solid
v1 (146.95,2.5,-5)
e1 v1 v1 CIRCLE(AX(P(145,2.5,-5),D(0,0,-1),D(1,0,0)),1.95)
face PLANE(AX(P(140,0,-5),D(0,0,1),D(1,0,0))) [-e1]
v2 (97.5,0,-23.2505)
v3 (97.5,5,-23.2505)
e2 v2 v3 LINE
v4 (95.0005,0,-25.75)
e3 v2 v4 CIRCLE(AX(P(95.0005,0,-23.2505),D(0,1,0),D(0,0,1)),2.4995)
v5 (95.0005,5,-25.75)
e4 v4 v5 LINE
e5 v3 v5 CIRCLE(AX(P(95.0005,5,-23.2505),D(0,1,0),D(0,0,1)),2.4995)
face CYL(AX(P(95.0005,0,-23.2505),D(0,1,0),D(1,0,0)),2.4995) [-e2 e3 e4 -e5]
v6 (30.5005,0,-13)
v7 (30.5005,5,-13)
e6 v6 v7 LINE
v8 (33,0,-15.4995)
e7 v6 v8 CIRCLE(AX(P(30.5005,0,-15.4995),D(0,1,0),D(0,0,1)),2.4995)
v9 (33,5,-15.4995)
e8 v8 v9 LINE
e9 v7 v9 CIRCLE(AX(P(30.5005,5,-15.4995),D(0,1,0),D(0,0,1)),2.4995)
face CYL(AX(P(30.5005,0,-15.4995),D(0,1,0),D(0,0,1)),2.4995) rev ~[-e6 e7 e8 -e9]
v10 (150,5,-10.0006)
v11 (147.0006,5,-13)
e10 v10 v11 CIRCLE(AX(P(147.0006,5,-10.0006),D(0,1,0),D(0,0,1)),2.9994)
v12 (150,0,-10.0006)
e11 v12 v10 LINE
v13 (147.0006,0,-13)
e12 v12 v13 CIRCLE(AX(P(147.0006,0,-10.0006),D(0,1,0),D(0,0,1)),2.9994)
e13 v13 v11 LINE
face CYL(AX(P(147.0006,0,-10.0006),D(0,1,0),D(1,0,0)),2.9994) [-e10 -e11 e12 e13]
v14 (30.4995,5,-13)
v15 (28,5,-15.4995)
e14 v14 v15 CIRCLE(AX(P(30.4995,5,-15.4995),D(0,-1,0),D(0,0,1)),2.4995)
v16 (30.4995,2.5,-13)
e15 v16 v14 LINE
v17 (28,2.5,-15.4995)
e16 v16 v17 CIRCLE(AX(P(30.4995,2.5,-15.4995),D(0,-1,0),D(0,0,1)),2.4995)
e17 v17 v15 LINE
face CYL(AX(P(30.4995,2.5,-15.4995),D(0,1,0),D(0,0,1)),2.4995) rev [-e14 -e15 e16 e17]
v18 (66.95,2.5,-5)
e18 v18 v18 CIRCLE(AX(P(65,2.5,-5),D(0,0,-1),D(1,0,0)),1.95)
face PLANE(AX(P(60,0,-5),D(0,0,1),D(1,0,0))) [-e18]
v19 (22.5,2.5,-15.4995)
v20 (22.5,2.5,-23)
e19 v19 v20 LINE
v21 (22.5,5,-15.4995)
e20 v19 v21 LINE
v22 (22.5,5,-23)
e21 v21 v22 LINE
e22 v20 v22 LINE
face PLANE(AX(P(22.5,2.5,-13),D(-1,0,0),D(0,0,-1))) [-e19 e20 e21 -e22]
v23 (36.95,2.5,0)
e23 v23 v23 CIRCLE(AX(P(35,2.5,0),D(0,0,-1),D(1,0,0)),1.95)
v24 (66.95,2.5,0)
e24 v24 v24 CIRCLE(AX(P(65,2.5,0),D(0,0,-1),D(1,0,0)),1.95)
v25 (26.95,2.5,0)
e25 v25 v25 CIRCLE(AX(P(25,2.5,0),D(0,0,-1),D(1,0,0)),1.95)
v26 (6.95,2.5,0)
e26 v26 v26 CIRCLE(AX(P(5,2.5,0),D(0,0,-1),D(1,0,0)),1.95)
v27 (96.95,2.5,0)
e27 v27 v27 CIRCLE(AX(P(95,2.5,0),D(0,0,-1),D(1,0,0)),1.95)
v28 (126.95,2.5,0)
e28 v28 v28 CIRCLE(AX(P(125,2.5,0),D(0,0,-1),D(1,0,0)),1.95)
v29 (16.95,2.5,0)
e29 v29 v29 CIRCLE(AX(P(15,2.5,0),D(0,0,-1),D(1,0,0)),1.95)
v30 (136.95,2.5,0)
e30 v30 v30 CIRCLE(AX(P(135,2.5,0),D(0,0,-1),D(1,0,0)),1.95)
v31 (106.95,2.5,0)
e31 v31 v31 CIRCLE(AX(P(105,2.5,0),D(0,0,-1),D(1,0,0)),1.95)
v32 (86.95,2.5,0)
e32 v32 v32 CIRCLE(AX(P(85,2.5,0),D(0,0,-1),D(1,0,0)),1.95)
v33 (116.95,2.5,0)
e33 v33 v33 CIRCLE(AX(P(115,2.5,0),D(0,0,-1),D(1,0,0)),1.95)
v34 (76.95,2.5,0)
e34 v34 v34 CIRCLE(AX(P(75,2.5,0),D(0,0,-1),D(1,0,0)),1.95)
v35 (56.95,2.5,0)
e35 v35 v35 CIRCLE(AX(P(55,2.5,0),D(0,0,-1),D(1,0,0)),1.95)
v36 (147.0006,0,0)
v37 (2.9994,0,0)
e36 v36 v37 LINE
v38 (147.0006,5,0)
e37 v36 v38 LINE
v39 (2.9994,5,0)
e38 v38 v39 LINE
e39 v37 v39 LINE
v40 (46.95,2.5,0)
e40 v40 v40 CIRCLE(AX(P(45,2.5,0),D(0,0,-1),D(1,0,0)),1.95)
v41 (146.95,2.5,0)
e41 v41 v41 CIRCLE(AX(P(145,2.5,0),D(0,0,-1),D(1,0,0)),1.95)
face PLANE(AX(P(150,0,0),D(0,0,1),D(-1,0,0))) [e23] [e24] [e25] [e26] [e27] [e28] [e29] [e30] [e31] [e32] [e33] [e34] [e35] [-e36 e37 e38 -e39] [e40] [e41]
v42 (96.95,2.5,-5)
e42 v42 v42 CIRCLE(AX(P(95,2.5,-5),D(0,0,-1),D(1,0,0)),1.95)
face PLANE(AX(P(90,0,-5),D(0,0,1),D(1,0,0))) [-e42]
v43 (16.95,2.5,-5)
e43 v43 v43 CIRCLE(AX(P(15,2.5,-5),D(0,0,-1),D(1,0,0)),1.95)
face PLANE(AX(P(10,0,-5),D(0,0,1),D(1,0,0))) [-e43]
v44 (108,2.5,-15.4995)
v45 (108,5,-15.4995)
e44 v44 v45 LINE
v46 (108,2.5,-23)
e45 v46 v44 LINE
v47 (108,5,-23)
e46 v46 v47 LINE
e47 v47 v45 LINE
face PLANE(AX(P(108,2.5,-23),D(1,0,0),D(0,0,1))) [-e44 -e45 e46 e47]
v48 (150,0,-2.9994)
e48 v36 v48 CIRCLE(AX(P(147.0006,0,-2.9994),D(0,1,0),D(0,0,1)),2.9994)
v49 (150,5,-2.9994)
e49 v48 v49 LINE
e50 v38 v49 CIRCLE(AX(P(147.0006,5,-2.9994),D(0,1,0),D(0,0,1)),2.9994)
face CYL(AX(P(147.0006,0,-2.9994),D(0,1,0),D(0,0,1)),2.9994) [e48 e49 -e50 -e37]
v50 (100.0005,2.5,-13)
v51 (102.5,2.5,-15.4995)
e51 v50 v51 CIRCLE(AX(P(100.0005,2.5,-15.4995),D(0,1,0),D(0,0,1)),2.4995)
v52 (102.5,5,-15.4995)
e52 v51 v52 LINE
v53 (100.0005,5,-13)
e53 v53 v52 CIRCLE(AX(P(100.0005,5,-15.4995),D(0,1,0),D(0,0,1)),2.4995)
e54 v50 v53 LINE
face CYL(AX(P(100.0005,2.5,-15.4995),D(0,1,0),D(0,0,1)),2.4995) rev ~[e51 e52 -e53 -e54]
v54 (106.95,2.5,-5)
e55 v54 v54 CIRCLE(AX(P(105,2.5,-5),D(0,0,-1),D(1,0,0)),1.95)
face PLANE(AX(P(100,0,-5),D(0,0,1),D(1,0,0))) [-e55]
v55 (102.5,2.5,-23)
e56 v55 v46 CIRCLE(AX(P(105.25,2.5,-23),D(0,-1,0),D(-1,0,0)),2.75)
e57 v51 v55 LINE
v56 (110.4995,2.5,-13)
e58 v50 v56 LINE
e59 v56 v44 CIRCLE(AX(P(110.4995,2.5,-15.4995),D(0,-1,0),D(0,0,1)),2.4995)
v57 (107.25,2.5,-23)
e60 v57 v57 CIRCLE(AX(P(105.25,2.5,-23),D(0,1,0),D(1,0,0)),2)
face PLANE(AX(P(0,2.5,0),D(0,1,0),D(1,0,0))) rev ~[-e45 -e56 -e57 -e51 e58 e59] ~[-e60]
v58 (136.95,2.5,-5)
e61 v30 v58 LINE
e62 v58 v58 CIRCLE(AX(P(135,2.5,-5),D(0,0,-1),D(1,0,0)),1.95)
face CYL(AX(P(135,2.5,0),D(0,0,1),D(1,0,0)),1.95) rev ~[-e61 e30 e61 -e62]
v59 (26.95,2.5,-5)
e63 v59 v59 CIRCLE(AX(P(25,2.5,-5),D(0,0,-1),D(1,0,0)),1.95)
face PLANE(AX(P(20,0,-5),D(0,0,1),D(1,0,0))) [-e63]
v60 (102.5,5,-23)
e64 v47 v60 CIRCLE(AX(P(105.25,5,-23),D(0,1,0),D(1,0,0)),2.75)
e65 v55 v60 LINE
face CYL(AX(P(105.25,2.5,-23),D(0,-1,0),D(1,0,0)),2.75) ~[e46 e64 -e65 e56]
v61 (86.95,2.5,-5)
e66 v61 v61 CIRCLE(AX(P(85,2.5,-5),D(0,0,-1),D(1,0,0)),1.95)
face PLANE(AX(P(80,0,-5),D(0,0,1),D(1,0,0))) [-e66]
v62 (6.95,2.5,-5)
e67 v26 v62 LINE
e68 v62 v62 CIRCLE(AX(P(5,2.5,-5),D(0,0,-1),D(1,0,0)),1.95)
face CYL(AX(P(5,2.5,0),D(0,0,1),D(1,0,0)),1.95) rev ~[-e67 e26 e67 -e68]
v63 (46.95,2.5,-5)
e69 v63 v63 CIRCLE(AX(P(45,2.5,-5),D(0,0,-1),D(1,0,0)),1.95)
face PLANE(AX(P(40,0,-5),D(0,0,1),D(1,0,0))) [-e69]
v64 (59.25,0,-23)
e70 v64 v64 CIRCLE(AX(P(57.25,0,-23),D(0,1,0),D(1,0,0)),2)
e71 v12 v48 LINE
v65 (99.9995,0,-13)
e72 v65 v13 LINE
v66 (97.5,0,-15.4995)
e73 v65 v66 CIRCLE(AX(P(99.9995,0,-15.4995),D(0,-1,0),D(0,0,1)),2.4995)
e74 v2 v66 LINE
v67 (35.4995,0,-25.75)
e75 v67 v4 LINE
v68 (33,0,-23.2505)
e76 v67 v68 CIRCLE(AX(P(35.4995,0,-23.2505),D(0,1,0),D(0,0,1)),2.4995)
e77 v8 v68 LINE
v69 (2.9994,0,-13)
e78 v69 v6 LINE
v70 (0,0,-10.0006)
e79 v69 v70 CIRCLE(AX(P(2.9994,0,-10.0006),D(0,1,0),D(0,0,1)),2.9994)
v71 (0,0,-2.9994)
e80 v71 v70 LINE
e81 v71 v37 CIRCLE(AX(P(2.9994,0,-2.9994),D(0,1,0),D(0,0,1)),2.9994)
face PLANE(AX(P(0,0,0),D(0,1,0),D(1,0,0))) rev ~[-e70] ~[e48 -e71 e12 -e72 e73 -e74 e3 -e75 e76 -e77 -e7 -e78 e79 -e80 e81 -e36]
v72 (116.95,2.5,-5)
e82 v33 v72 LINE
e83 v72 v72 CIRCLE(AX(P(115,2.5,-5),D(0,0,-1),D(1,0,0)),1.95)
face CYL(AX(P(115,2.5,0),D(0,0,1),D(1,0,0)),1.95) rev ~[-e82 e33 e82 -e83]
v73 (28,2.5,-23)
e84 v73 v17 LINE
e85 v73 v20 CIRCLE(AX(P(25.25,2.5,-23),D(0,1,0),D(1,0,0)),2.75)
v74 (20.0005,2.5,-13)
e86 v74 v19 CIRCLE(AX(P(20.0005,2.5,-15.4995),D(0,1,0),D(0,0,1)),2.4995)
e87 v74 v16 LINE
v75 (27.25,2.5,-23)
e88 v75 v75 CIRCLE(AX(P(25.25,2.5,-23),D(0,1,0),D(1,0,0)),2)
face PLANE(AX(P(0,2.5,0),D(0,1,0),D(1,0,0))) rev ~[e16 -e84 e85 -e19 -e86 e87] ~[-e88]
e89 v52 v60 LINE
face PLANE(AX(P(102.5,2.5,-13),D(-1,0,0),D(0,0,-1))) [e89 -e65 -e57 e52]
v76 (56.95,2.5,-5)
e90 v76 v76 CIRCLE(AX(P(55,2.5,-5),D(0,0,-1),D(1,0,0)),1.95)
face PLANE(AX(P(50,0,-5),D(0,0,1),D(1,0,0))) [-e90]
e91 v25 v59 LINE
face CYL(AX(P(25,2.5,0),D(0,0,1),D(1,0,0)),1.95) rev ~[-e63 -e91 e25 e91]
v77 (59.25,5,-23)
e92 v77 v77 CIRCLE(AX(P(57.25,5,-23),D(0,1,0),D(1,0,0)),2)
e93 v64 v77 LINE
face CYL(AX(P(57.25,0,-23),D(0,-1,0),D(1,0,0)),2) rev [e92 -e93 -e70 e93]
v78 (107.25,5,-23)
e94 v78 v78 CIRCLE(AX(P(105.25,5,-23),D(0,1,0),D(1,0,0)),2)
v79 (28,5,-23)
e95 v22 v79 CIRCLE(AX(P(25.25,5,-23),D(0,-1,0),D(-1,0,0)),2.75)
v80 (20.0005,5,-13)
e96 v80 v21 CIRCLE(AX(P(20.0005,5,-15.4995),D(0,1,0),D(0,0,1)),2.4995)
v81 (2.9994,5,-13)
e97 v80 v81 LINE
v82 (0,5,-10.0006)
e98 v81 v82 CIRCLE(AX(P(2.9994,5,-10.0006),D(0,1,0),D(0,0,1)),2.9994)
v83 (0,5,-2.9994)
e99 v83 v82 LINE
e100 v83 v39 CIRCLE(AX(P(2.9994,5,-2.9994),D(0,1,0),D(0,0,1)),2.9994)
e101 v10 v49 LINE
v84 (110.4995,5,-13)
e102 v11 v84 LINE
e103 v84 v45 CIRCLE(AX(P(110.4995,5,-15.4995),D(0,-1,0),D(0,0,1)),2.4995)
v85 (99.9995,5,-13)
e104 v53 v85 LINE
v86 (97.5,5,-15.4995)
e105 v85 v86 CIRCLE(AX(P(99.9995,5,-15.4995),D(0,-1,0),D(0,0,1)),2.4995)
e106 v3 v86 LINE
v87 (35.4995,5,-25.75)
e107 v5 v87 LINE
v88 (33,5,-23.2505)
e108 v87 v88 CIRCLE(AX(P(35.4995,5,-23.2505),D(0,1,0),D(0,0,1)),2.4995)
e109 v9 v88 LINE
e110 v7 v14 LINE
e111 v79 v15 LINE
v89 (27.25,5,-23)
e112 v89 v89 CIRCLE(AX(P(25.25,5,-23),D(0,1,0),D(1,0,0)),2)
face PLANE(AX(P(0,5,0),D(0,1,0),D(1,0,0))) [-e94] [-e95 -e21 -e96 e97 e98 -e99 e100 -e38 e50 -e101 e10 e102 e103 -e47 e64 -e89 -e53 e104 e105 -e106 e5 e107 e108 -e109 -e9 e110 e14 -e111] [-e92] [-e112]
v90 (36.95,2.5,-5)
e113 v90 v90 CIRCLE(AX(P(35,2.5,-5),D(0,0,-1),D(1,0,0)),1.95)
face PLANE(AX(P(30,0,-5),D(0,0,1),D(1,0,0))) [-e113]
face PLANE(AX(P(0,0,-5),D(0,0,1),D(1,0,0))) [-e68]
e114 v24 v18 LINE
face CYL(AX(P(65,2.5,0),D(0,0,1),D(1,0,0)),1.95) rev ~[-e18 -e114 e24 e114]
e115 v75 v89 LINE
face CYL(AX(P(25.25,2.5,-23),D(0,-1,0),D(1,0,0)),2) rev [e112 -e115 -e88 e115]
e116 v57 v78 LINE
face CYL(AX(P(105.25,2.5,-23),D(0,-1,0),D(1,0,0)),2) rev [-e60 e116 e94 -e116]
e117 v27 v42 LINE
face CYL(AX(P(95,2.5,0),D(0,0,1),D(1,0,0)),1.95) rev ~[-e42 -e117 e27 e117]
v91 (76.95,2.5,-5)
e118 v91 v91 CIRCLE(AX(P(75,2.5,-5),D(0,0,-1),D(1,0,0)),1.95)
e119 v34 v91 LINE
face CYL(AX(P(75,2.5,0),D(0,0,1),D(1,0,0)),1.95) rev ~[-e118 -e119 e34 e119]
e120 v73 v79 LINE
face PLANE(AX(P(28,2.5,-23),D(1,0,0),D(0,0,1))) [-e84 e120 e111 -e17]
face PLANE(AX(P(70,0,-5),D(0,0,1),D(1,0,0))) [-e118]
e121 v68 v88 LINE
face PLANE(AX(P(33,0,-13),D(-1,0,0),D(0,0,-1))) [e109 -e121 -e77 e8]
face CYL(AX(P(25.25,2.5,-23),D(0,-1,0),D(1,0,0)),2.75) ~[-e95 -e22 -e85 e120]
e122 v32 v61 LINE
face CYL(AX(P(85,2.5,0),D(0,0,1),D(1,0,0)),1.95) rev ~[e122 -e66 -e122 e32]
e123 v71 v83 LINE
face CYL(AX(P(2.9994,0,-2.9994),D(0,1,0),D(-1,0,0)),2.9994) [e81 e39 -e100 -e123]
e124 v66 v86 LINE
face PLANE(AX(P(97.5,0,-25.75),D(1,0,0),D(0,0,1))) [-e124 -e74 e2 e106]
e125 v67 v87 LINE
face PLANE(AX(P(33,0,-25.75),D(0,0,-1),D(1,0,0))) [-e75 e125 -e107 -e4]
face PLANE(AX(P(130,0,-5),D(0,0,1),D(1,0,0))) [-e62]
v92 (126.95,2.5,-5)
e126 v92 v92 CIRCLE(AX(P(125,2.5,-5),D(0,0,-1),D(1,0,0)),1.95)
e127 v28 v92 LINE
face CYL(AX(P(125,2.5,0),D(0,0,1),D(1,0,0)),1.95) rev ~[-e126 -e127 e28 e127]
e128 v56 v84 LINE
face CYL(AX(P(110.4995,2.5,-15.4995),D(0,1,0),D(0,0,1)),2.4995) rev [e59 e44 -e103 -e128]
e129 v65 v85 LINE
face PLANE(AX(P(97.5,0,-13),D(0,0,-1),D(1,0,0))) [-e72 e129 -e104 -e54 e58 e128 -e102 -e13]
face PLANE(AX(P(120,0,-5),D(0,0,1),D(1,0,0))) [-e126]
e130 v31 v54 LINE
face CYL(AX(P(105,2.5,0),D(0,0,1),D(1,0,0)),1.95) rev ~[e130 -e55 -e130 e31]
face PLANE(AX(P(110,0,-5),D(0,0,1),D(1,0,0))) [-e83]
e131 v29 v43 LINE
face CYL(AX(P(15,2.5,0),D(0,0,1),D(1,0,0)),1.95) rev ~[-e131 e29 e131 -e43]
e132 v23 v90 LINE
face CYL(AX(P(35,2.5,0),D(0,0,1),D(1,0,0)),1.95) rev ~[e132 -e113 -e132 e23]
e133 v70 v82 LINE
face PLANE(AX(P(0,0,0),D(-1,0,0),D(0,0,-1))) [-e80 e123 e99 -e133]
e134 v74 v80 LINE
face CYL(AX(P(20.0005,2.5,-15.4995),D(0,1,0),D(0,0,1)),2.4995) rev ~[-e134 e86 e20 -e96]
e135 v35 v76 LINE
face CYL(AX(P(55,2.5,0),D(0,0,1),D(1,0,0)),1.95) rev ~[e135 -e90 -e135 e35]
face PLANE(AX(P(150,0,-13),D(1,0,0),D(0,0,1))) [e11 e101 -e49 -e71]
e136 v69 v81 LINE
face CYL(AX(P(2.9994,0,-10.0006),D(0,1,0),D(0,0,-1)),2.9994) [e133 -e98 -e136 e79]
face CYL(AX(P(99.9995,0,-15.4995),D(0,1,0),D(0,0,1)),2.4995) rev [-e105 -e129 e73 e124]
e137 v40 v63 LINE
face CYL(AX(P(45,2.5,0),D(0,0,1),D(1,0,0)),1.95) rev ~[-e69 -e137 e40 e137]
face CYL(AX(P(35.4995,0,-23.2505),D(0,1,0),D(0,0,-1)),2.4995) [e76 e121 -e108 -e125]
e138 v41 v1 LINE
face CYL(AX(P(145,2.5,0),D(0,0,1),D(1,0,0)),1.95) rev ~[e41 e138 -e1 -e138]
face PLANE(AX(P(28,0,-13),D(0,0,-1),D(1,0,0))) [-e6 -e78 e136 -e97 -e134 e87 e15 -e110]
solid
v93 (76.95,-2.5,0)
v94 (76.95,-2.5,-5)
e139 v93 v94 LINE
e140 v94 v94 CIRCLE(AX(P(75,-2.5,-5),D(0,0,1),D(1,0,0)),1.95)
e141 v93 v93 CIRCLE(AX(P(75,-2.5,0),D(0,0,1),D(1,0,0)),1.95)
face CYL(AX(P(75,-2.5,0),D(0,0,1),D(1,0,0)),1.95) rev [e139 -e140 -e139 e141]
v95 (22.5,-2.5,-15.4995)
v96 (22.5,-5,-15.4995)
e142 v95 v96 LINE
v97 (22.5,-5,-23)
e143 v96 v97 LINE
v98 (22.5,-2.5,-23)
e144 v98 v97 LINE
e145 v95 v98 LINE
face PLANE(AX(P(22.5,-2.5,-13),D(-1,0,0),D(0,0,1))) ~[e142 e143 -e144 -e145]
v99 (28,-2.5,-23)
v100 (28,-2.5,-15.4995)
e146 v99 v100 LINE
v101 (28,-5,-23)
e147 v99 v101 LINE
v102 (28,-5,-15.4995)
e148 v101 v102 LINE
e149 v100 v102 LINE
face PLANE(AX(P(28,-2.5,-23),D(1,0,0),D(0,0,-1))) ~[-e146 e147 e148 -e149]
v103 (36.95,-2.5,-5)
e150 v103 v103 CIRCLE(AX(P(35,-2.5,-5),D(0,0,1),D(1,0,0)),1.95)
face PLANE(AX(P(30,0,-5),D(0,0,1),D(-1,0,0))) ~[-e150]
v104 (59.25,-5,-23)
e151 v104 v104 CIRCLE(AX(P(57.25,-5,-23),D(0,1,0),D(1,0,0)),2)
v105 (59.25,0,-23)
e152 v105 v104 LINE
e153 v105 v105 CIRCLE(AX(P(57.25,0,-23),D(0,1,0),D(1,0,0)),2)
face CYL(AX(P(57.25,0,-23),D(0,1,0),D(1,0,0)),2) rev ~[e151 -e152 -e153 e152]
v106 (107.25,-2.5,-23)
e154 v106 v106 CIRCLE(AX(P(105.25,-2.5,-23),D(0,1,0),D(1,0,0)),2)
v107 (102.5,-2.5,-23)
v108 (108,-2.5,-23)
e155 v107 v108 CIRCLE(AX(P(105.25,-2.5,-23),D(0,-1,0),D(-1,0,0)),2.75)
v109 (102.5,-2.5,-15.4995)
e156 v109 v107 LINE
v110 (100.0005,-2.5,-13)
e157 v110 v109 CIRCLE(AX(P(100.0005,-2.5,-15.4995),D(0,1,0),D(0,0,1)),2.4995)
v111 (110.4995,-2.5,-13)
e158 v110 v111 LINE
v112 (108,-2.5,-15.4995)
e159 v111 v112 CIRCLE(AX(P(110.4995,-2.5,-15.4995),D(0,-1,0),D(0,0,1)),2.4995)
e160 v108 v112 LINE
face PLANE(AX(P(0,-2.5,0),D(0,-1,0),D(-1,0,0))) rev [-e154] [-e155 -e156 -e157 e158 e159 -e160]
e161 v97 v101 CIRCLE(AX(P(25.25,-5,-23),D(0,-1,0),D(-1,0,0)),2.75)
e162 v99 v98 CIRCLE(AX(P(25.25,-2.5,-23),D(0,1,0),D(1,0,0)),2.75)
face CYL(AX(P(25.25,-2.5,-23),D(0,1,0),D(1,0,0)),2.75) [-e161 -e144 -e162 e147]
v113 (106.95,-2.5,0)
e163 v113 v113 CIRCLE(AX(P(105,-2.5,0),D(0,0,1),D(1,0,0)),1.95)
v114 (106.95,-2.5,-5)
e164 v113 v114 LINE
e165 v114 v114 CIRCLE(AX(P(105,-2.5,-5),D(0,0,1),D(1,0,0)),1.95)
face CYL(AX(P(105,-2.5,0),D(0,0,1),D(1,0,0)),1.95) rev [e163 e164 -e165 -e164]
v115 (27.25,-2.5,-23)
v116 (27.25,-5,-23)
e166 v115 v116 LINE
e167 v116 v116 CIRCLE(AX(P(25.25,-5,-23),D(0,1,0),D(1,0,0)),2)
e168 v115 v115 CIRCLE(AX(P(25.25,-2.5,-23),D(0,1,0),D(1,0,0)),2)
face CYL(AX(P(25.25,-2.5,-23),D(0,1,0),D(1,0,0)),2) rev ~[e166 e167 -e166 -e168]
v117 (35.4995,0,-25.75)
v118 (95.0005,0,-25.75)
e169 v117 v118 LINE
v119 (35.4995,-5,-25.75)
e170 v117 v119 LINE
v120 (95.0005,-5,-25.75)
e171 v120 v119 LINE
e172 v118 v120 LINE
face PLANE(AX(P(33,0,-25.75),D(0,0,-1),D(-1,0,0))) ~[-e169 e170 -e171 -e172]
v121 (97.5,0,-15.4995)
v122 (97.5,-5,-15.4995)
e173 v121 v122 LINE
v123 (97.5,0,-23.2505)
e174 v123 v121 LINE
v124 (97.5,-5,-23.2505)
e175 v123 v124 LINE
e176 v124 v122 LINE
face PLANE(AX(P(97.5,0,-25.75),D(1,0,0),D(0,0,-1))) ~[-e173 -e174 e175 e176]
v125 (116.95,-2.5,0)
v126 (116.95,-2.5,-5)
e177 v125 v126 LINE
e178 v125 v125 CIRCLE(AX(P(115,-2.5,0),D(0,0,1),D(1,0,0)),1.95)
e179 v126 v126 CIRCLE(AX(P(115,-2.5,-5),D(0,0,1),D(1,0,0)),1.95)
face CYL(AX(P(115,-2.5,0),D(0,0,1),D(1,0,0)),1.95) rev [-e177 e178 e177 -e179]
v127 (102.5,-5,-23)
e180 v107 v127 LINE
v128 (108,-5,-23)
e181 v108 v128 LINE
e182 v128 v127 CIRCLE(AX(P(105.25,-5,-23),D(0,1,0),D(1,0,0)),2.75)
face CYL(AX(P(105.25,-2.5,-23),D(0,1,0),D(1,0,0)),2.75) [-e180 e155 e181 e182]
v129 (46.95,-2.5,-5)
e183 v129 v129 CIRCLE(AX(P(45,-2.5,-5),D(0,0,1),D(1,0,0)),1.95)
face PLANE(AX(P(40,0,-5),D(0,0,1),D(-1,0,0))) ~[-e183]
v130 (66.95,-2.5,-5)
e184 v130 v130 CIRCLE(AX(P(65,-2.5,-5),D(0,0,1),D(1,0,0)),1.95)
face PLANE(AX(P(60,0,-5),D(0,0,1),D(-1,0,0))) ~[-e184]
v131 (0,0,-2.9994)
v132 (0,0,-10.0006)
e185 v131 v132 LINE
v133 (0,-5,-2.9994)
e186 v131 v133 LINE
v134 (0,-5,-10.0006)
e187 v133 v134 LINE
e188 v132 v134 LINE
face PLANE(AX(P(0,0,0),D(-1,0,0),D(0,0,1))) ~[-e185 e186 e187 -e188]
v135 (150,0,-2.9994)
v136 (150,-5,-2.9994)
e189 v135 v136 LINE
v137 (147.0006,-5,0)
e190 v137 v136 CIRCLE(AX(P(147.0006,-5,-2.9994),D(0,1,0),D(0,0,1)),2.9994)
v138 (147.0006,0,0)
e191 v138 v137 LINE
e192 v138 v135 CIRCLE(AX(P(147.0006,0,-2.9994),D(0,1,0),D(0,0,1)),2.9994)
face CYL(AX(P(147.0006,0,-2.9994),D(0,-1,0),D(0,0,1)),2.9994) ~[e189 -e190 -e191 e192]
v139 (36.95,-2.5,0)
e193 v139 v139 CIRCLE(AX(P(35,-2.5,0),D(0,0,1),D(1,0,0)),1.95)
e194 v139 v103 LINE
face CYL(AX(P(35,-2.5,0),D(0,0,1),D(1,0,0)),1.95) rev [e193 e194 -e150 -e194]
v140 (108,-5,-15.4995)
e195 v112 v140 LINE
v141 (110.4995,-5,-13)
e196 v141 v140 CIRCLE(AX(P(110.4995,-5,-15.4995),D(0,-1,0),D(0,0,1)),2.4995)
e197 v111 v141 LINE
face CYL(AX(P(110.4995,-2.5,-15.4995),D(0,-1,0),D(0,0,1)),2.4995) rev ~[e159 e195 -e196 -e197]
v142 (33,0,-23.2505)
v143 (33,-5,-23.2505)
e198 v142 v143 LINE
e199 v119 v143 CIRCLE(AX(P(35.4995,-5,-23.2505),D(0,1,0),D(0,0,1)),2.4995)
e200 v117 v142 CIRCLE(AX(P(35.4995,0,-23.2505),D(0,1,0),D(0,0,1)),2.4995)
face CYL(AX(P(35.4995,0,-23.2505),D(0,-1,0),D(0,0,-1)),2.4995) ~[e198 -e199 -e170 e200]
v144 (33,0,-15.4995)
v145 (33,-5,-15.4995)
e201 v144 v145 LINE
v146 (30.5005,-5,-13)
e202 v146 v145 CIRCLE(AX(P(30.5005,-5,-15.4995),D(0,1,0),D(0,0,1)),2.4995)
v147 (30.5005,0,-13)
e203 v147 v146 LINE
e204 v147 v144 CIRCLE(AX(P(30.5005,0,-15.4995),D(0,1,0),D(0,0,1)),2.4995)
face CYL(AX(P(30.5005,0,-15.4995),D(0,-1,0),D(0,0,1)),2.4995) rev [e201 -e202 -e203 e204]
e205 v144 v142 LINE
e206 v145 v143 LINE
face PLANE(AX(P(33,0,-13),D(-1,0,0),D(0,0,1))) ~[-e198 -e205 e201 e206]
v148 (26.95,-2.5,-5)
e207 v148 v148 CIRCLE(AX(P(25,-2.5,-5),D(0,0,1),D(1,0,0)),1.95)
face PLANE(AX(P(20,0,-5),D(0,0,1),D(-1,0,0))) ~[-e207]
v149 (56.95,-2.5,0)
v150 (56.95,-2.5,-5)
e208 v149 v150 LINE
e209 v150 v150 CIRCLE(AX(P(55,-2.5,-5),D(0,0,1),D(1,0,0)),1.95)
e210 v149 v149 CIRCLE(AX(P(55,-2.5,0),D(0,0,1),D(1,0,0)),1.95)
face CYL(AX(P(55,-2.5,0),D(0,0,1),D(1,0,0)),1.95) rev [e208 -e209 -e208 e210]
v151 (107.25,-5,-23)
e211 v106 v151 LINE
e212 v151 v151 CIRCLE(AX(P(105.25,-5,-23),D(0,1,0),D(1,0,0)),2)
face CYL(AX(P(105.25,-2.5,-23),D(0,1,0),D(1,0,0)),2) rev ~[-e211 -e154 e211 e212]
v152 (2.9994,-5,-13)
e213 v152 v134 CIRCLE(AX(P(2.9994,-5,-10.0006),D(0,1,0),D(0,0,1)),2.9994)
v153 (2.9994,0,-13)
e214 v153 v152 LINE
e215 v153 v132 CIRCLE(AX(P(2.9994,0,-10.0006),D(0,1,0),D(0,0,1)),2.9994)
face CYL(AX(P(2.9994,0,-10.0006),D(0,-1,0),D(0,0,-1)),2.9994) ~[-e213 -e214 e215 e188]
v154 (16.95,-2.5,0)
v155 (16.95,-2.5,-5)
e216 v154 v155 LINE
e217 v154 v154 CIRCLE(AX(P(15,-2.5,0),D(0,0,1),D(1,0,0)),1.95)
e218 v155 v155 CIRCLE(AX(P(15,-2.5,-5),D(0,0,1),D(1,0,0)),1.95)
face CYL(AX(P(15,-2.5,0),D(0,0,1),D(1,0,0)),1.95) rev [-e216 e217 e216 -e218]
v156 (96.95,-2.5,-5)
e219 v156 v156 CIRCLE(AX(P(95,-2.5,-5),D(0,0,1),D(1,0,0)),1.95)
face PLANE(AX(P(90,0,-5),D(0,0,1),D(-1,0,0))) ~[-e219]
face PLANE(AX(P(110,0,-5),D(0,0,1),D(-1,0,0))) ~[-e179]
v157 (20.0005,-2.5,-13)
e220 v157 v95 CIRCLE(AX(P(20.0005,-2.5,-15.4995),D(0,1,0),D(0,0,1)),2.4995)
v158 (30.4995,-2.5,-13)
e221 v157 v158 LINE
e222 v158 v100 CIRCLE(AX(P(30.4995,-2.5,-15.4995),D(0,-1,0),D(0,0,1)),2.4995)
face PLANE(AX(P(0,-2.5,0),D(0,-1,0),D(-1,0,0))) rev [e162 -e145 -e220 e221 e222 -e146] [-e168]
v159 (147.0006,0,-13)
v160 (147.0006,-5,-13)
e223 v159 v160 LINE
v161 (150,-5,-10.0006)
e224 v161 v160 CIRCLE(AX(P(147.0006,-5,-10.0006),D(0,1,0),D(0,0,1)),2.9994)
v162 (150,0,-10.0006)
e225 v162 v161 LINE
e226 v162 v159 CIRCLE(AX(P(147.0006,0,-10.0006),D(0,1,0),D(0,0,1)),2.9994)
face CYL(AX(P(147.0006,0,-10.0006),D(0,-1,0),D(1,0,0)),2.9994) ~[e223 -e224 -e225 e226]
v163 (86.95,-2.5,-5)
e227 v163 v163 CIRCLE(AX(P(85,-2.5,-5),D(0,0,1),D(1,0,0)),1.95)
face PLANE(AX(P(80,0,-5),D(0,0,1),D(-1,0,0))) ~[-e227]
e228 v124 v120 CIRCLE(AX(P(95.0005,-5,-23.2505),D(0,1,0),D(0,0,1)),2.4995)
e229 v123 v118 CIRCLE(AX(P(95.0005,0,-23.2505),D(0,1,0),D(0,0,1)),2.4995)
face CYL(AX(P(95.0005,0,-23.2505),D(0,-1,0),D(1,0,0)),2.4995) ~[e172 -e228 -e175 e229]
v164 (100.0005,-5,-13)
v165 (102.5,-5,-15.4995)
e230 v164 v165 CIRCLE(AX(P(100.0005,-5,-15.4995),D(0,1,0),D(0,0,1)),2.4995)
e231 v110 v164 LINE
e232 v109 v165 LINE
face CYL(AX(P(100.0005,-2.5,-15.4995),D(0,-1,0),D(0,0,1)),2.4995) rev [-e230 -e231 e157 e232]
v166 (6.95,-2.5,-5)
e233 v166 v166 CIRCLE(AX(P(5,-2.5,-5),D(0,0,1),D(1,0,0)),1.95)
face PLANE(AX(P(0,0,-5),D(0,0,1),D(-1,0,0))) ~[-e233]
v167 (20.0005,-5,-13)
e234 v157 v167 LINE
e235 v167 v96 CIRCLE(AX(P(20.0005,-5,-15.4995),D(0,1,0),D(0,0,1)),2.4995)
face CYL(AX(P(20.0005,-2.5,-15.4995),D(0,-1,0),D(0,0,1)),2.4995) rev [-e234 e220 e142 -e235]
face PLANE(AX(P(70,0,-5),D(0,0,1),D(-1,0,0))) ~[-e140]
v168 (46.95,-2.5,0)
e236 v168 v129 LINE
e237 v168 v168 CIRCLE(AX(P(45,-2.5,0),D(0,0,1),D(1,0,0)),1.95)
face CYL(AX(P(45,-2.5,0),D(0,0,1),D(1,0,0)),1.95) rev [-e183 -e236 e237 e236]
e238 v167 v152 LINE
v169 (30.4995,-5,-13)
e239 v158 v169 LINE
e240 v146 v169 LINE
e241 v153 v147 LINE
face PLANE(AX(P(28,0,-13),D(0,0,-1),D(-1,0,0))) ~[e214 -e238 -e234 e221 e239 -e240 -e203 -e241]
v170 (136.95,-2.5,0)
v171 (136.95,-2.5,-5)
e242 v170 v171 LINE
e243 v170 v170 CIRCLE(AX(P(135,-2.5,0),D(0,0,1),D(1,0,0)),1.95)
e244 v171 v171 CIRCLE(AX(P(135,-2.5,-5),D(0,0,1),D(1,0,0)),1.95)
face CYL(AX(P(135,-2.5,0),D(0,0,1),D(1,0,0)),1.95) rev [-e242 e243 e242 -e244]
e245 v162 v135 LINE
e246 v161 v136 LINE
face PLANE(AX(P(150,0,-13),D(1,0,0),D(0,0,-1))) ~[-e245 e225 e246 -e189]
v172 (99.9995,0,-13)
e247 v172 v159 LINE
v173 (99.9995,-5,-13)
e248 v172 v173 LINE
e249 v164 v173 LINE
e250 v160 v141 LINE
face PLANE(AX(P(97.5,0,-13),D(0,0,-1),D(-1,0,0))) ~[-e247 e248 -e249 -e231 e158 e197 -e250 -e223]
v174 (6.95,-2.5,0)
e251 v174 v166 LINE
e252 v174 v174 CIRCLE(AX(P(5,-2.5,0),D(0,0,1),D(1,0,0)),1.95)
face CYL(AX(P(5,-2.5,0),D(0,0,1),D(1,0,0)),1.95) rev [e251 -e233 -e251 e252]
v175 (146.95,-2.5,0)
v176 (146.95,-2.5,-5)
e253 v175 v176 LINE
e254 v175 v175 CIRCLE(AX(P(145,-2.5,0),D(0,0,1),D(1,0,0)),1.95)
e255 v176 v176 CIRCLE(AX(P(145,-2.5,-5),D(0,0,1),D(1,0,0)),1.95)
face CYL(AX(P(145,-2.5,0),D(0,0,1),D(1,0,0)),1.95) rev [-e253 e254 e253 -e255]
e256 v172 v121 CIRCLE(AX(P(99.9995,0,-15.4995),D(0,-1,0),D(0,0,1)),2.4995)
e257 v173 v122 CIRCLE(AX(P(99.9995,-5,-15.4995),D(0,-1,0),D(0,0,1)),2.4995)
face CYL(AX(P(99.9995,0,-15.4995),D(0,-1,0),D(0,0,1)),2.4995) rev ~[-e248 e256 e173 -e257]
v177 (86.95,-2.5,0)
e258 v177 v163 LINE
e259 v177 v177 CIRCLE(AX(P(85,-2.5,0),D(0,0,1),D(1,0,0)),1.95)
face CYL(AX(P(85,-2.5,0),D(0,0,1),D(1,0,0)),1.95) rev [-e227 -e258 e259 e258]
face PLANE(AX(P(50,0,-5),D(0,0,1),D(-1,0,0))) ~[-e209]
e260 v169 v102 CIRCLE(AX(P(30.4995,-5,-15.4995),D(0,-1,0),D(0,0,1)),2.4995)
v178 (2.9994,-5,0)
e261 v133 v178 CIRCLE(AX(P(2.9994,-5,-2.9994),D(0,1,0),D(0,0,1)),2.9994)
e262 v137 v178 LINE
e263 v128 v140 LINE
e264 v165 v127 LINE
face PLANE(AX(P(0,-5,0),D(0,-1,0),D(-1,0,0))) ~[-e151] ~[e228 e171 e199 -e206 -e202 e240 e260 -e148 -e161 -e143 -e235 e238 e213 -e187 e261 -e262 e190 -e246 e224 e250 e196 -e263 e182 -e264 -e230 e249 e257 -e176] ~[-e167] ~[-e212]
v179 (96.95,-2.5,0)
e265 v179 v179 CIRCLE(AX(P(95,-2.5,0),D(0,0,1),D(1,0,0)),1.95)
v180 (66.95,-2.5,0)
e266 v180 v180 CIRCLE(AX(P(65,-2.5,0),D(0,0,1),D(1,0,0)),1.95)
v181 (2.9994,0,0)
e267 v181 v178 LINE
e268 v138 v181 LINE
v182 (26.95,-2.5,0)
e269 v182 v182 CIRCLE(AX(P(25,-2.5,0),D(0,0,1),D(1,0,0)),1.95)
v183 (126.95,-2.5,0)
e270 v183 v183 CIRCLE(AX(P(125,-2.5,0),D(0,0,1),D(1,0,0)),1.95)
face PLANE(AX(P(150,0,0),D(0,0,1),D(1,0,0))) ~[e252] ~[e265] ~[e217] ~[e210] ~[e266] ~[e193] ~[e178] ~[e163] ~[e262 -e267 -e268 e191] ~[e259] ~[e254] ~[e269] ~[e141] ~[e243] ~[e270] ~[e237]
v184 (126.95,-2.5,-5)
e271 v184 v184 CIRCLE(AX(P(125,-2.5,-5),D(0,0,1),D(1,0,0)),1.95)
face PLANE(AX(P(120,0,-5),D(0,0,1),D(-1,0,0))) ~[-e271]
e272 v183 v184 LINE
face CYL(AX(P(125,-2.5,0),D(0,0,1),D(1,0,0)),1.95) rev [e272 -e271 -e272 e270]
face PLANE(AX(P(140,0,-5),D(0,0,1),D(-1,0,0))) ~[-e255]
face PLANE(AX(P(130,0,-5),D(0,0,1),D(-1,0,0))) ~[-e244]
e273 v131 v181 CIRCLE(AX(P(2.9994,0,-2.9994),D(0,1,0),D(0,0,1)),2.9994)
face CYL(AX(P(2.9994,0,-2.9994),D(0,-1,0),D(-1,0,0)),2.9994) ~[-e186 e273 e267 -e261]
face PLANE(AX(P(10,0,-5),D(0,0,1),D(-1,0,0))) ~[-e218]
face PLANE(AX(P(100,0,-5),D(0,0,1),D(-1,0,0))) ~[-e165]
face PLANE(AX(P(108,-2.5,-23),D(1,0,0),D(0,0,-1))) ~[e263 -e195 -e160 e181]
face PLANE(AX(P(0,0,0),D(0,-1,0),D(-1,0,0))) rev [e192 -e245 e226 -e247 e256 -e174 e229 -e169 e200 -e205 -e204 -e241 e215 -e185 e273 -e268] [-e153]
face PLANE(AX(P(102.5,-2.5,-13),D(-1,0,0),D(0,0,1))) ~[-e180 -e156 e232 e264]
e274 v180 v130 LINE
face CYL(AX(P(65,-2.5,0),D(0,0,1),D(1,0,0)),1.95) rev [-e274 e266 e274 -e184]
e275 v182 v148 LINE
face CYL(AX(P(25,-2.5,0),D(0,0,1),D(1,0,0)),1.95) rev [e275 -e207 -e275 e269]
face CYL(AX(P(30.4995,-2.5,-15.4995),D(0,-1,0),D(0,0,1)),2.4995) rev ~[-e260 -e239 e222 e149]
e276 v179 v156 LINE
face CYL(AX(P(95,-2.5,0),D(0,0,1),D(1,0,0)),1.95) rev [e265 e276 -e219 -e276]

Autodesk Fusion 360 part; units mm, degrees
sketch "Sketch1" plane through (0, 0, 0) normal (0, 1, 0) x (1, 0, 0)
  circle A0 centre (25.25, 23) radius 2
  circle A1 centre (57.25, 23) radius 2
  circle A2 centre (105.25, 23) radius 2
  circle A3 centre (25.25, 23) radius 2.75
  circle A4 centre (57.25, 23) radius 2.75
  circle A5 centre (105.25, 23) radius 2.75
  line L0 (28, 23) -> (28, 13)
  line L1 (28, 13) -> (33, 13)
  line L2 (33, 13) -> (33, 25.75)
  line L3 (33, 25.75) -> (97.5, 25.75)
  line L4 (97.5, 25.75) -> (97.5, 13)
  line L5 (97.5, 13) -> (102.5, 13)
  line L6 (102.5, 13) -> (102.5, 23)
  line L7 (108, 23) -> (108, 13)
  line L8 (108, 13) -> (150, 13)
  line L9 (150, 13) -> (150, 0)
  line L10 (150, 0) -> (0, 0)
  line L11 (0, 0) -> (0, 13)
  line L12 (0, 13) -> (22.5, 13)
  line L13 (22.5, 13) -> (22.5, 23)
  line L14 (25.25, 25.75) -> (15.4724, 25.75)
  line L15 (105.25, 25.75) -> (113, 25.75)
  line L16 (108, 13) -> (102.5, 13)
  line L17 (28, 13) -> (22.5, 13)
  line L18 (33, 0) -> (97.5, 0) construction
  line L19 (97.5, 0) -> (97.5, 13) construction
  line L20 (97.5, 13) -> (33, 13) construction
  line L21 (33, 13) -> (33, 0) construction
  dimension "d1" = 4
  dimension "d2" = 5.5
  dimension "d3" = 32
  dimension "d4" = 80
  dimension "d5" = 10
  dimension "d6" = 5
  dimension "d7" = 23
  dimension "d8" = 22.5
  dimension "d9" = 42
  dimension "d10" = 10
  dimension "d33" = 150
extrude "Extrude1" add sketch "Sketch1" along normal blind 5 contours A4 | L1 L2 L3 L4 L5 L8 L9 L10 L11 L12 L16 L17 makes body 1
extrude "Extrude2" add sketch "Sketch1" along normal blind 5 and the other way blind -2.5 contours A3 | A3 L0 L13 L17 | A5 L6 L7 L16 | A5 bodies 1
fillet "Fillet1" radius 2.5 8 edges at (33, 2.5, -25.75) (97.5, 2.5, -25.75) (102.5, 3.75, -13) (97.5, 2.5, -13) (108, 3.75, -13) (33, 2.5, -13) (28, 3.75, -13) (22.5, 3.75, -13) on bodies 1
fillet "Fillet1" radius 3 4 edges at (0, 2.5, -13) (0, 2.5, 0) (150, 2.5, 0) (150, 2.5, -13) on bodies 1
sketch "Sketch2" plane through (0, 0, 0) normal (0, 0, 1) x (1, 0, 0)
  line L0 (147, 0) -> (147, 5)
  line L1 (147, 5) -> (3, 5)
  line L2 (3, 5) -> (3, 0)
  line L3 (3, 0) -> (147, 0)
  circle A0 centre (5, 2.5) radius 1.95
  line L4 (0, 5) -> (0, 0)
  line L5 (5, 2.5) -> (3, 2.5)
  dimension "d25" = 5
  dimension "d26" = 3.9
extrude "Extrude4" cut sketch "Sketch2" against normal blind 5 contours A0 bodies 1
pattern_linear "R-Pattern1" count 15 spacing 10 along (1, 0, 0) of "Extrude4"
mirror "Mirror1" about plane through (0, 0, 0) normal (0, 1, 0) of bodies 1 makes body 2
equation "d15 = -5 mm + 2.5 mm"
